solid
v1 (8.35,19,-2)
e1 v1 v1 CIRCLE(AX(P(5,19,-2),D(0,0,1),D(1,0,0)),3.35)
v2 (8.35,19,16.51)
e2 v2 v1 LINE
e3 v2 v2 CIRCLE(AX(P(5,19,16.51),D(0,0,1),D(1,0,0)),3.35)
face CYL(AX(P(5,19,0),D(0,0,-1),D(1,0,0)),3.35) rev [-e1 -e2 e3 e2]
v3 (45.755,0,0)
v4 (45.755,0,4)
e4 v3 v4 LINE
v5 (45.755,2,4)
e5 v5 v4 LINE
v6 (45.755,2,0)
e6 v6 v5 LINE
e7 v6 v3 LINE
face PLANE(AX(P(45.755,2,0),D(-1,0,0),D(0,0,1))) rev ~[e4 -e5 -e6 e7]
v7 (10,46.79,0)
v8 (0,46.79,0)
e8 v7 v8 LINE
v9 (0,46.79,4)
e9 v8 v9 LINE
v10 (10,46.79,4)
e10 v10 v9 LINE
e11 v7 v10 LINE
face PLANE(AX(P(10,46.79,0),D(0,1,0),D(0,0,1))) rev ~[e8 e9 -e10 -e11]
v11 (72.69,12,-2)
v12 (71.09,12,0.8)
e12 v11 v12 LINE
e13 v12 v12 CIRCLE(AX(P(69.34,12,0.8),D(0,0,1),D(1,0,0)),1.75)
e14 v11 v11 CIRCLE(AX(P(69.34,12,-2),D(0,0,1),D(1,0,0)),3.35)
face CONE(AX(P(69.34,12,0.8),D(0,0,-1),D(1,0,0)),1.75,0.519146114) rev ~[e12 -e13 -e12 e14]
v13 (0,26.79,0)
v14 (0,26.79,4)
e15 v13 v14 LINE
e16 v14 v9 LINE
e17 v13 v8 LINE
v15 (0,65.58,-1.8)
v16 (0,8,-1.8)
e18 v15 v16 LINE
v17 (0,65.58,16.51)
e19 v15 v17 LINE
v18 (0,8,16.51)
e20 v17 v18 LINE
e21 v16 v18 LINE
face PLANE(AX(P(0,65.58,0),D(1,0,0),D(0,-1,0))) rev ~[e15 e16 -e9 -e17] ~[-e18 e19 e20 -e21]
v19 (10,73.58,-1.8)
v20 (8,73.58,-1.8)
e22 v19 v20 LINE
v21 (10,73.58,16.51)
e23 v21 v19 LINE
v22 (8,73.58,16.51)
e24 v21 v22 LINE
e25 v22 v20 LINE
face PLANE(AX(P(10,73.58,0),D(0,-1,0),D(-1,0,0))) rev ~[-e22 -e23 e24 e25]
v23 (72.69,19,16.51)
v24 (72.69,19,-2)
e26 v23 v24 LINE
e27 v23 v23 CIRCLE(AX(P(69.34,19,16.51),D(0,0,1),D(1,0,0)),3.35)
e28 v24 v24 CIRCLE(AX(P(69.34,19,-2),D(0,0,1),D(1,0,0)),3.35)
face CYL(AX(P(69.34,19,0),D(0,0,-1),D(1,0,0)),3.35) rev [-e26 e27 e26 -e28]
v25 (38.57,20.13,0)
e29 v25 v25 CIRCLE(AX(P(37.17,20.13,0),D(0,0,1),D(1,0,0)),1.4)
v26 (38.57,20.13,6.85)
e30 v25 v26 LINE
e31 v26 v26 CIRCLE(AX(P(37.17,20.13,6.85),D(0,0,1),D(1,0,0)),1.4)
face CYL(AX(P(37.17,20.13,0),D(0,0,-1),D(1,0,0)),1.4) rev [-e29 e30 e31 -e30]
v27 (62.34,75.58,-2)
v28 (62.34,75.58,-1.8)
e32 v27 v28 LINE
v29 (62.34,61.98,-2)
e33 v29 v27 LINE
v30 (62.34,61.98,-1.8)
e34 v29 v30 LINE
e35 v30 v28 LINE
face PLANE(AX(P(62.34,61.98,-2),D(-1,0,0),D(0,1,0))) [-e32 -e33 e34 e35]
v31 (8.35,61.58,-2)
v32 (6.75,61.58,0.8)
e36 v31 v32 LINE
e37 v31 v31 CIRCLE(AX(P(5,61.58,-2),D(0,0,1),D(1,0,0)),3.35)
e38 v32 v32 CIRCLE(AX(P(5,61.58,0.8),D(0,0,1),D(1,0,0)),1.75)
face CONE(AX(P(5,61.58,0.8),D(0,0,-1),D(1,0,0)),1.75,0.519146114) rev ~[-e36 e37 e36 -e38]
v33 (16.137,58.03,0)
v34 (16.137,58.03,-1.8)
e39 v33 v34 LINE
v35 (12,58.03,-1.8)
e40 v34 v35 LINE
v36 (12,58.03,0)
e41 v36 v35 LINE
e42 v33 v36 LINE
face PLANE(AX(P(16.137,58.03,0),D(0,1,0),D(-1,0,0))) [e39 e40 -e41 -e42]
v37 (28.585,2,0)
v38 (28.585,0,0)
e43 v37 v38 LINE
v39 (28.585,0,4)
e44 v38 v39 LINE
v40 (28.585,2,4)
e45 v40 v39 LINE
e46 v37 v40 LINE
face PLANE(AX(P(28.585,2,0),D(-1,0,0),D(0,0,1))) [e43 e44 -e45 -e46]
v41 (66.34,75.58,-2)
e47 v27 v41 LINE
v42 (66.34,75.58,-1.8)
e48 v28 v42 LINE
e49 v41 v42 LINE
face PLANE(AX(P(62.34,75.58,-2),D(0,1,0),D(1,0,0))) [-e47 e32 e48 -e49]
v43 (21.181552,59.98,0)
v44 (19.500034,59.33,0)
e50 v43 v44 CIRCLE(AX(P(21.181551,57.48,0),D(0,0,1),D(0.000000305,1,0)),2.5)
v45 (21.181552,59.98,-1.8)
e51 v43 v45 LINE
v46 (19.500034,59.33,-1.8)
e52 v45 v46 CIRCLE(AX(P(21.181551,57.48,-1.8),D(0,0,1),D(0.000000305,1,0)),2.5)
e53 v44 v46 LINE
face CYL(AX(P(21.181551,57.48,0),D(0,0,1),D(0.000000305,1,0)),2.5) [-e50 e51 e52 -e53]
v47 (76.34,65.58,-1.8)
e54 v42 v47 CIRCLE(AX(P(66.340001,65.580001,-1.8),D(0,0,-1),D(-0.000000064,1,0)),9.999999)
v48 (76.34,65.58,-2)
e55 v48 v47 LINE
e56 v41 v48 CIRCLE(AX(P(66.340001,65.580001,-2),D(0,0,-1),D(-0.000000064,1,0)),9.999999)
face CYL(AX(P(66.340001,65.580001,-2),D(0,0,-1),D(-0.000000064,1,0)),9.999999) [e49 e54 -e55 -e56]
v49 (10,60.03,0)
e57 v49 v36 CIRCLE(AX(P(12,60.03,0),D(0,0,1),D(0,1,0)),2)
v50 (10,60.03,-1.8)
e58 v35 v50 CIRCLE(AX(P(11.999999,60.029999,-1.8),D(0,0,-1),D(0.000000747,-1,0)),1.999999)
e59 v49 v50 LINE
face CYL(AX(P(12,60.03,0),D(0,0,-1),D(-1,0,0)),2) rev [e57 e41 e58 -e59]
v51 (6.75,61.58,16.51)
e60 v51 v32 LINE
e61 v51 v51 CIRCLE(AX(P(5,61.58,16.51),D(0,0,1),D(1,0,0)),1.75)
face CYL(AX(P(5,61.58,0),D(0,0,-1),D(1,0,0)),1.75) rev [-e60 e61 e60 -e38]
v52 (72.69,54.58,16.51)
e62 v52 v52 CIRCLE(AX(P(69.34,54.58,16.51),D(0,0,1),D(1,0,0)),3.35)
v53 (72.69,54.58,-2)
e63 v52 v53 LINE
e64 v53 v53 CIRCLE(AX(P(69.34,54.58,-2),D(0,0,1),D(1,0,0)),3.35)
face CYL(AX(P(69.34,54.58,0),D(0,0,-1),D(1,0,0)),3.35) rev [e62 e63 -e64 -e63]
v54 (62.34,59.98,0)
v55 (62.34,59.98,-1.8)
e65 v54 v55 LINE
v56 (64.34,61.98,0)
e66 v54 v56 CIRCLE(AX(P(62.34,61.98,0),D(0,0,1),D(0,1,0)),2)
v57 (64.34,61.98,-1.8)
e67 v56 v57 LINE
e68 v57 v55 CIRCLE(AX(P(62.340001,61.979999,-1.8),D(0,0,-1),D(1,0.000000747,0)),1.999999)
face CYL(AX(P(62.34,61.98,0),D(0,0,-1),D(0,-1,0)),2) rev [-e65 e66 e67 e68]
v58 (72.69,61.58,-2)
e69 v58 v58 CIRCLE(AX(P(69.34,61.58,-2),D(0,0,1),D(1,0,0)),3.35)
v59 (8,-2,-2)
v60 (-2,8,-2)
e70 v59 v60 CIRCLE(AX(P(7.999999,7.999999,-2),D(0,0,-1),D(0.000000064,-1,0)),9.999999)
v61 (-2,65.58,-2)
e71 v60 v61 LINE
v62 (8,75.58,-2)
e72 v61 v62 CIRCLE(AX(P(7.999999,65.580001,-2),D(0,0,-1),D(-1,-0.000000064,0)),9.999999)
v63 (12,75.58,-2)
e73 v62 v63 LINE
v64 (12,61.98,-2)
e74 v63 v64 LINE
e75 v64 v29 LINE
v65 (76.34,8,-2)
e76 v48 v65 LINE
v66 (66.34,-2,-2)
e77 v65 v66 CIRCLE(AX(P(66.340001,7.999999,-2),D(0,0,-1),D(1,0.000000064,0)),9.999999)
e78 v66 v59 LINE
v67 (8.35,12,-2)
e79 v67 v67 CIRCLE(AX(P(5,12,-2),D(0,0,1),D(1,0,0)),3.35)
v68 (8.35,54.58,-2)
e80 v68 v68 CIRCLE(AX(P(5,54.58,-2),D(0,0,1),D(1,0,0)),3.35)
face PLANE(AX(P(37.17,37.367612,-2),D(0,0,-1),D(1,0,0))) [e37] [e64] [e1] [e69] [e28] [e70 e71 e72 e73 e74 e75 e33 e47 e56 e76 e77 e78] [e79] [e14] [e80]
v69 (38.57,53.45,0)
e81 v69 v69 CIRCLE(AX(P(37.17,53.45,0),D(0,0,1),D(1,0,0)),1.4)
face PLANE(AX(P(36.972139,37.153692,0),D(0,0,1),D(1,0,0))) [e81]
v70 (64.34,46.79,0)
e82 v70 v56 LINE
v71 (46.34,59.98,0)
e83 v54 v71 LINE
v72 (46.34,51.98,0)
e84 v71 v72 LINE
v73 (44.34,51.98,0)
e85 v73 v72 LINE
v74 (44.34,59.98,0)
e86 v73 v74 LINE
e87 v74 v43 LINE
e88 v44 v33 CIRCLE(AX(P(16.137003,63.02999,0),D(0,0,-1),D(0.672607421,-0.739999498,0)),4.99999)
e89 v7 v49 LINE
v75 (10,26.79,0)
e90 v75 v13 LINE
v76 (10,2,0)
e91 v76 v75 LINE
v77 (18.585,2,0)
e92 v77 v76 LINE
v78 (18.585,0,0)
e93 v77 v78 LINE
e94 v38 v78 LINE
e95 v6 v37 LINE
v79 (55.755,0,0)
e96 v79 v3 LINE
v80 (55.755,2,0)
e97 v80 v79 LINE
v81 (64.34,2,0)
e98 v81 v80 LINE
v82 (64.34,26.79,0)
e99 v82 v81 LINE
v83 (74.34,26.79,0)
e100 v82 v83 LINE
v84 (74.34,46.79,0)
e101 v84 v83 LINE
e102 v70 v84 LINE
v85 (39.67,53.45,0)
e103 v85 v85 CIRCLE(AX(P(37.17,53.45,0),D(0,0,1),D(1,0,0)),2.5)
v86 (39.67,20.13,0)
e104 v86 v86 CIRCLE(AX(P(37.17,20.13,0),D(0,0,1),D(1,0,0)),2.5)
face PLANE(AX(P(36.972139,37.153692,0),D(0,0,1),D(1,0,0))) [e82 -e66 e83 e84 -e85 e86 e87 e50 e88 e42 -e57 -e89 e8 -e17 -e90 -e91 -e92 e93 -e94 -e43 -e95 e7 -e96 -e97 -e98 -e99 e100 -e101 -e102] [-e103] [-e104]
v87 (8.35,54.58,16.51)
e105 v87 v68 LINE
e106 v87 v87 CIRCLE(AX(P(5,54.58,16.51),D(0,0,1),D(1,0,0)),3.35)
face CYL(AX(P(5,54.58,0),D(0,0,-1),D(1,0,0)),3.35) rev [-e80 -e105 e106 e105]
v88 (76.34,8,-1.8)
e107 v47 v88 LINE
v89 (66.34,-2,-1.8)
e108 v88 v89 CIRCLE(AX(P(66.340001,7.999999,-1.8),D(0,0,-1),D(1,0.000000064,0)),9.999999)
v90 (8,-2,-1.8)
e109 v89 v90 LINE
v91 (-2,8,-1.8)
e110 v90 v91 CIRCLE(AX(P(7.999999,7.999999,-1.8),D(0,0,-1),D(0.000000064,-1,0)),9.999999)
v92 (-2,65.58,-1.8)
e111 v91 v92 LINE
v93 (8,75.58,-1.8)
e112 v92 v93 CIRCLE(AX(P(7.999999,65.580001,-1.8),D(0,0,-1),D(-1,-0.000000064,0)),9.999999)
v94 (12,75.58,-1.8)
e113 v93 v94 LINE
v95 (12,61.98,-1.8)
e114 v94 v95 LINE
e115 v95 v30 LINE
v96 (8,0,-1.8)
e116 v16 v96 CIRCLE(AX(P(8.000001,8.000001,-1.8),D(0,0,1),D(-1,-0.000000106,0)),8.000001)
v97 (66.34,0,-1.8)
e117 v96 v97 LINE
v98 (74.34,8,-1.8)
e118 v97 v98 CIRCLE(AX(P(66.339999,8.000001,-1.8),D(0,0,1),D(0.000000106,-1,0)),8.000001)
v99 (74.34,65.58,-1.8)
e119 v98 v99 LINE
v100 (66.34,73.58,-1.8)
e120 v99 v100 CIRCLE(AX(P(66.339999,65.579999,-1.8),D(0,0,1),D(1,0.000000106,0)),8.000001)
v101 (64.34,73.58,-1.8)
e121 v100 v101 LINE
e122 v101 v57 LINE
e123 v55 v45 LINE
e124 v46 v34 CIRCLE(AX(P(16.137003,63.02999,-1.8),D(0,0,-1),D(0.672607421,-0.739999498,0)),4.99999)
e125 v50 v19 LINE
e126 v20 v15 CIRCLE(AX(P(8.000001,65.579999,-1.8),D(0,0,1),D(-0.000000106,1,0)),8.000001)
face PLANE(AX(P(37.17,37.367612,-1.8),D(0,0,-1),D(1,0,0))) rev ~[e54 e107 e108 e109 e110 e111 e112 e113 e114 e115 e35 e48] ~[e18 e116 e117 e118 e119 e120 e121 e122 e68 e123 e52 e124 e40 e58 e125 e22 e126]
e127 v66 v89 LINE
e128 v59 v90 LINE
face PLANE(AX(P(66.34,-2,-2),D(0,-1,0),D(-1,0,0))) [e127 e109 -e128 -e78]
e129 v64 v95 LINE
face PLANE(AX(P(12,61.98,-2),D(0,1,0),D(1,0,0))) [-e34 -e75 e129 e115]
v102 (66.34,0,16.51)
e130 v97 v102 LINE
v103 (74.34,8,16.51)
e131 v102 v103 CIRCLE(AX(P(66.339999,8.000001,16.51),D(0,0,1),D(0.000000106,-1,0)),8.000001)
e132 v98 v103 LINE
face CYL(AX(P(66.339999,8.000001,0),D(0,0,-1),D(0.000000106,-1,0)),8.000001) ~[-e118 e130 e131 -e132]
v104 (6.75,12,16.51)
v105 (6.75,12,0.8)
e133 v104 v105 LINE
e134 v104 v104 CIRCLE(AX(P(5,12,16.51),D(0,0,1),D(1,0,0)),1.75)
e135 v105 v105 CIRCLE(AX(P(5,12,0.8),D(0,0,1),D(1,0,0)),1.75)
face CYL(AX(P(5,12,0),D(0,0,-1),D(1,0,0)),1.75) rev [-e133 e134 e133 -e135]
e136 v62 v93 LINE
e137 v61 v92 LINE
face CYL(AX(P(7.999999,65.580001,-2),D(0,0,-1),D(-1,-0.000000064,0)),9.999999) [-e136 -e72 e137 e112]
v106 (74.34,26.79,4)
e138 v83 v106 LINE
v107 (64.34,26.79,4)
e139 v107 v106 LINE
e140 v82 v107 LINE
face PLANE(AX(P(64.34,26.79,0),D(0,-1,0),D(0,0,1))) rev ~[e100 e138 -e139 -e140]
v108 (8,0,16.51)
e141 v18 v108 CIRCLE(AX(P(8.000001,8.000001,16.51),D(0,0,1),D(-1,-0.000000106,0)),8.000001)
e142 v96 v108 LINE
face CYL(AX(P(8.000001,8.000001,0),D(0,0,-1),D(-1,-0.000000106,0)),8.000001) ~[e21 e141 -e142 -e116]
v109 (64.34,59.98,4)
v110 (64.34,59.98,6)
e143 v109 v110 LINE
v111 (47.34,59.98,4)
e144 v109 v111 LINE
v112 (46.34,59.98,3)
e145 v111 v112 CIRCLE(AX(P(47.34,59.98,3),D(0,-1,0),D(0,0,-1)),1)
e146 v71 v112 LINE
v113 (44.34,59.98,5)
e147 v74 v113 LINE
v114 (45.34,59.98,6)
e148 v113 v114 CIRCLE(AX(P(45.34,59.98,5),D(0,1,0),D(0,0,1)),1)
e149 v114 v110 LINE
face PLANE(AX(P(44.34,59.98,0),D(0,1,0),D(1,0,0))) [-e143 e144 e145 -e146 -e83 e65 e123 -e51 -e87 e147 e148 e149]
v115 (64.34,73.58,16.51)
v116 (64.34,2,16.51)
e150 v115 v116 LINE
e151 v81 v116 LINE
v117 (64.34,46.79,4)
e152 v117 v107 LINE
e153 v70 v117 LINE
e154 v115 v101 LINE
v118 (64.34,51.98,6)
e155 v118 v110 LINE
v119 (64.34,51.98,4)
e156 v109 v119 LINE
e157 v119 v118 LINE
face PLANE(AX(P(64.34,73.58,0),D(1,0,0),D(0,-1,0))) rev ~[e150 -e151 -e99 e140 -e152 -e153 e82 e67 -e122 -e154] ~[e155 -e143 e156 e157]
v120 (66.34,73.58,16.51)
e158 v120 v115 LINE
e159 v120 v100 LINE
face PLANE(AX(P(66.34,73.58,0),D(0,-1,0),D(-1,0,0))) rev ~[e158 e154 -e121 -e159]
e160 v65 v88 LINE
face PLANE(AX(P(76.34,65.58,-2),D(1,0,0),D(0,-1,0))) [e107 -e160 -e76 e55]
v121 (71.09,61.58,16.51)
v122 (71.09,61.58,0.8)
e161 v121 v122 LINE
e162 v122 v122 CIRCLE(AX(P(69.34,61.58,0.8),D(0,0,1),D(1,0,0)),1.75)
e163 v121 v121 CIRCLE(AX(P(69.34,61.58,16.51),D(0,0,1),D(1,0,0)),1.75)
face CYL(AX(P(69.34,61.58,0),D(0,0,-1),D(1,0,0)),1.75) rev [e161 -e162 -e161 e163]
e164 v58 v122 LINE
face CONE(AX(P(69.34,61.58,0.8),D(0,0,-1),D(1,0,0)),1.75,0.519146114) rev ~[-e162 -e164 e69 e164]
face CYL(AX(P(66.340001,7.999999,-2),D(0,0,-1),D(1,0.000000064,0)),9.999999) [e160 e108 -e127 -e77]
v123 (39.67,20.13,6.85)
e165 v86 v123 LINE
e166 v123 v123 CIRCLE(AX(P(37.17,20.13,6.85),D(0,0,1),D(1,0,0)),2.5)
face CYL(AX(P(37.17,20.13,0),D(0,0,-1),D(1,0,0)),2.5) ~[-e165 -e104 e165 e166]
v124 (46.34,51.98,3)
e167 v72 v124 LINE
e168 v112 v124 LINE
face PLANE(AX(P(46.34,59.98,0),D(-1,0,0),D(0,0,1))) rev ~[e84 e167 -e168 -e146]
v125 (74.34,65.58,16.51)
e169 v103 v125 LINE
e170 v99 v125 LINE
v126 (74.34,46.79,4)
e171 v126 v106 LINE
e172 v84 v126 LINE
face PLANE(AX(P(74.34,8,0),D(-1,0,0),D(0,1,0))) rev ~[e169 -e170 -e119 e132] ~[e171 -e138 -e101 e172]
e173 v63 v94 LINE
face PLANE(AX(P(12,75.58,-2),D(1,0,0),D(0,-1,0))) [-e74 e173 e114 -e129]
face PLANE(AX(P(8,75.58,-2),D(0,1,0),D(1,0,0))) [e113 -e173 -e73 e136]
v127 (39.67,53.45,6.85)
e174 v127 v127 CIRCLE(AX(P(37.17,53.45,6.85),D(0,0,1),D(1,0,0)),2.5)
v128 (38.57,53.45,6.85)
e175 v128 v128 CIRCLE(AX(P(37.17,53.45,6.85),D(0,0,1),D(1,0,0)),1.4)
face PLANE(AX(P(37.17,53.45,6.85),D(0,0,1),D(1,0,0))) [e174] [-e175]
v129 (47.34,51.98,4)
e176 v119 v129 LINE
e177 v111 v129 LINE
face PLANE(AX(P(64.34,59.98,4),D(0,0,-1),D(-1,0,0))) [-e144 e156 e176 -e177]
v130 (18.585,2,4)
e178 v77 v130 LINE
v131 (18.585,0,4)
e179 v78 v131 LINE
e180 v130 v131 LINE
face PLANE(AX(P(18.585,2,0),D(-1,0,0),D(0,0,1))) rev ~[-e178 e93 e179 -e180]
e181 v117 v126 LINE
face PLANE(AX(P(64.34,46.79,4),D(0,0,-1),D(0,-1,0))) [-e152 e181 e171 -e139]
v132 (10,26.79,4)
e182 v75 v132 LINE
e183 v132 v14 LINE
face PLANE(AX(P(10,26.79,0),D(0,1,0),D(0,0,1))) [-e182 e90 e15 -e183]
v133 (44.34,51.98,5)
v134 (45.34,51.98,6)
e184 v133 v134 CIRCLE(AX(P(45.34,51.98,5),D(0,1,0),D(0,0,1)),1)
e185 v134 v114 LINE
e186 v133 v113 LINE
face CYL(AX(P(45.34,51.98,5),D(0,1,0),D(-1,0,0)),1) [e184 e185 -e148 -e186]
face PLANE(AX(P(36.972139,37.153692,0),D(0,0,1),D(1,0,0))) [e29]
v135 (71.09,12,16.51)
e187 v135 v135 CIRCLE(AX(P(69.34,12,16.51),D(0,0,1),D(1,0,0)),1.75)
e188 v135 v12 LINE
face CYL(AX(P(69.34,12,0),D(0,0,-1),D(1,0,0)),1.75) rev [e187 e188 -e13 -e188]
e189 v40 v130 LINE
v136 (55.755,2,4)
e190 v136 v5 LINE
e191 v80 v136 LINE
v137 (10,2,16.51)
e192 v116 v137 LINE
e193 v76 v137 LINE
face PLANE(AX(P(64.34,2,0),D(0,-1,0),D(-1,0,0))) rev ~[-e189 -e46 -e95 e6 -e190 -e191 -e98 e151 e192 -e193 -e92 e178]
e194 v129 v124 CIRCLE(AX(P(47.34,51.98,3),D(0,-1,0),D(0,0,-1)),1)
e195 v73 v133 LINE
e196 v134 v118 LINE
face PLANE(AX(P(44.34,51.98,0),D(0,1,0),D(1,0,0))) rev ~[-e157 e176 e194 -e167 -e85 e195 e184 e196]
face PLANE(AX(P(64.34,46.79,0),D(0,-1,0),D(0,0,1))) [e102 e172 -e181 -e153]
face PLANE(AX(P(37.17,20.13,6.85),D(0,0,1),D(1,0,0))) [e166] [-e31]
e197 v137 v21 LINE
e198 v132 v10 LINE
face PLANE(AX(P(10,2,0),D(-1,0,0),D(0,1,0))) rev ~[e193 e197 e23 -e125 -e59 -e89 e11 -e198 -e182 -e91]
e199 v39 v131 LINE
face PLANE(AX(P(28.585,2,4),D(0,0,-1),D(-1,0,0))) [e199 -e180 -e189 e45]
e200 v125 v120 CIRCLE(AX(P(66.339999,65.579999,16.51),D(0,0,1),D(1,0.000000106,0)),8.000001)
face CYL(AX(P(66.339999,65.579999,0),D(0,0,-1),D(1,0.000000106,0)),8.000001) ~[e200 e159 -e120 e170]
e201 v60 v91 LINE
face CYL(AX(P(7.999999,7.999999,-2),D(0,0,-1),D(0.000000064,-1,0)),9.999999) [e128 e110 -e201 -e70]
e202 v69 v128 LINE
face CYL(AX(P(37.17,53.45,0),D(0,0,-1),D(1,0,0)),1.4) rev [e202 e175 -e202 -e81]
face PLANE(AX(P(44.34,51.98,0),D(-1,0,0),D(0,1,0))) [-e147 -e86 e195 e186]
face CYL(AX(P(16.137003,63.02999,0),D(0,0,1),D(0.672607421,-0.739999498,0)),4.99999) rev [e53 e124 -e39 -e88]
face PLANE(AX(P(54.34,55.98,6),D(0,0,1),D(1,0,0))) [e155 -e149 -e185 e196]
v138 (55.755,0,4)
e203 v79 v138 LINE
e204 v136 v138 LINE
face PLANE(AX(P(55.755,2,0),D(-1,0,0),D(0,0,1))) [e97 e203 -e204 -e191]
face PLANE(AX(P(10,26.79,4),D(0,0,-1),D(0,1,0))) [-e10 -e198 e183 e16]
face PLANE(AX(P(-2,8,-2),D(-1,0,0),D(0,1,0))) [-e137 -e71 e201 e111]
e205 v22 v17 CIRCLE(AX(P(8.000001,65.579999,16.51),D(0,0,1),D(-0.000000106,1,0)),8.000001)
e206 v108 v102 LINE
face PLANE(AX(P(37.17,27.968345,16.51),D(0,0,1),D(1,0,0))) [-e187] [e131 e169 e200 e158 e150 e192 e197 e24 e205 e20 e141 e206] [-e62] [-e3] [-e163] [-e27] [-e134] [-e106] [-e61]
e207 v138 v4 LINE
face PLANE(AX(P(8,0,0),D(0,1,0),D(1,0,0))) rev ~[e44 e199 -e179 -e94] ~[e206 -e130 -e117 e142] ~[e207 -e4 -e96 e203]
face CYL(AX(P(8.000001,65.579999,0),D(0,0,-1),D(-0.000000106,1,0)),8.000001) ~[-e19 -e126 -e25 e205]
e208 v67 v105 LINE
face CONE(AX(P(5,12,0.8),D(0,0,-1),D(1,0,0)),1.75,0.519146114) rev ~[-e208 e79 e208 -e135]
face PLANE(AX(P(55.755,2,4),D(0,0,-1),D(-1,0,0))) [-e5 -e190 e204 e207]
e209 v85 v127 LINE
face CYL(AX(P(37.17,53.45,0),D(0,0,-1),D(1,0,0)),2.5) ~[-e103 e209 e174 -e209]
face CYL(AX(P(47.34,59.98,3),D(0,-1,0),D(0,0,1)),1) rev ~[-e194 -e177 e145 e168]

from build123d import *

# Parameters (mm, degrees)
F1_R      = 1.75
F1_R_2    = 3.35
F2_DEPTH  = 2
F3_R      = 2
F4_R      = 1.75
F4_R_2    = 3.35
F5_DEPTH  = 16.51
F6_SIZE2  = 2.8
F6_SIZE   = 1.6
F7_R      = 2.5
F7_R_2    = 1.4
F8_DEPTH  = 6.85
F9_W      = 20
F9_H      = 4
F10_DEPTH = 10.001
F11_W     = 20
F11_H     = 4
F12_DEPTH = 10.001
F13_W     = 10
F13_H     = 4
F14_DEPTH = 2.001
F15_W     = 20
F15_H     = 8
F16_DEPTH = 6
F17_W     = 18
F17_H     = 4
F18_DEPTH = 8
F19_R     = 1
F21_DEPTH = 0.2


with BuildPart() as f2:
    # F1 (on Top) → F2 (new body)
    with BuildSketch(Plane.XY):
        with BuildLine():
            ThreePointArc((8, 73.58), (2.343146, 71.236854), (0, 65.58))
            Line((0, 65.58), (0, 8))
            ThreePointArc((0, 8), (2.343146, 2.343146), (8, 0))
            Line((8, 0), (66.34, 0))
            ThreePointArc((66.34, 0), (71.996854, 2.343146), (74.34, 8))
            Line((74.34, 8), (74.34, 65.58))
            ThreePointArc((74.34, 65.58), (71.996854, 71.236854), (66.34, 73.58))
            Line((66.34, 73.58), (64.34, 73.58))
            Line((64.34, 73.58), (64.34, 59.98))
            Line((64.34, 59.98), (21.181552, 59.98))
            ThreePointArc((21.181552, 59.98), (20.280164, 59.811845), (19.500034, 59.33))
            ThreePointArc((19.500034, 59.33), (17.939776, 58.36631), (16.137, 58.03))
            Line((16.137, 58.03), (10, 58.03))
            Line((10, 58.03), (10, 73.58))
            Line((10, 73.58), (8, 73.58))
        make_face()
        with Locations((5, 12)):
            Circle(F1_R, mode=Mode.SUBTRACT)
        with Locations((5, 19)):
            Circle(F1_R_2, mode=Mode.SUBTRACT)
        with Locations((69.34, 12)):
            Circle(F1_R, mode=Mode.SUBTRACT)
        with Locations((69.34, 19)):
            Circle(F1_R_2, mode=Mode.SUBTRACT)
        with Locations((5, 54.58)):
            Circle(F1_R_2, mode=Mode.SUBTRACT)
        with Locations((5, 61.58)):
            Circle(F1_R, mode=Mode.SUBTRACT)
        with Locations((69.34, 54.58)):
            Circle(F1_R_2, mode=Mode.SUBTRACT)
        with Locations((69.34, 61.58)):
            Circle(F1_R, mode=Mode.SUBTRACT)
    extrude(amount=-F2_DEPTH)

    # F3
    f3_edges = [f2.edges().sort_by_distance(p)[0] for p in [
        (10, 58.03, -1),
        (64.34, 59.98, -1),
    ]]
    fillet(f3_edges, radius=F3_R)

    # F4 (on face) → F5 (join)
    with BuildSketch(Plane.XY):
        with BuildLine():
            ThreePointArc((8, 73.58), (2.343146, 71.236854), (0, 65.58))
            Line((0, 65.58), (0, 8))
            ThreePointArc((0, 8), (2.343146, 2.343146), (8, 0))
            Line((8, 0), (66.34, 0))
            ThreePointArc((66.34, 0), (71.996854, 2.343146), (74.34, 8))
            Line((74.34, 8), (74.34, 65.58))
            ThreePointArc((74.34, 65.58), (71.996854, 71.236854), (66.34, 73.58))
            Line((66.34, 73.58), (64.34, 73.58))
            Line((64.34, 73.58), (64.34, 2))
            Line((64.34, 2), (10, 2))
            Line((10, 2), (10, 73.58))
            Line((10, 73.58), (8, 73.58))
        make_face()
        with Locations((5, 12)):
            Circle(F4_R, mode=Mode.SUBTRACT)
        with Locations((5, 19)):
            Circle(F4_R_2, mode=Mode.SUBTRACT)
        with Locations((69.34, 12)):
            Circle(F4_R, mode=Mode.SUBTRACT)
        with Locations((69.34, 19)):
            Circle(F4_R_2, mode=Mode.SUBTRACT)
        with Locations((5, 54.58)):
            Circle(F4_R_2, mode=Mode.SUBTRACT)
        with Locations((5, 61.58)):
            Circle(F4_R, mode=Mode.SUBTRACT)
        with Locations((69.34, 54.58)):
            Circle(F4_R_2, mode=Mode.SUBTRACT)
        with Locations((69.34, 61.58)):
            Circle(F4_R, mode=Mode.SUBTRACT)
    extrude(amount=F5_DEPTH)

    # F6
    f6_edges = [f2.edges().sort_by_distance(p)[0] for p in [
        (3.25, 61.58, -2),
        (3.25, 12, -2),
        (67.59, 12, -2),
        (67.59, 61.58, -2),
    ]]
    chamfer(f6_edges, length=F6_SIZE, length2=F6_SIZE2)

    # F7 (on face) → F8 (join)
    with BuildSketch(Plane.XY):
        with Locations((37.17, 53.45)):
            Circle(F7_R)
        with Locations((37.17, 53.45)):
            Circle(F7_R_2, mode=Mode.SUBTRACT)
        with Locations((37.17, 20.13)):
            Circle(F7_R)
        with Locations((37.17, 20.13)):
            Circle(F7_R_2, mode=Mode.SUBTRACT)
    extrude(amount=F8_DEPTH)

    # F9 (on face) → F10 (cut, through all)
    with BuildSketch(Plane.YZ.offset(10)):
        with Locations((36.79, 2)):
            Rectangle(F9_W, F9_H)
    extrude(amount=-F10_DEPTH, mode=Mode.SUBTRACT)

    # F11 (on face) → F12 (cut, through all)
    with BuildSketch(Plane(origin=(64.34, 0, 0), x_dir=(0, -1, 0), z_dir=(-1, 0, 0))):
        with Locations((-36.79, 2)):
            Rectangle(F11_W, F11_H)
    extrude(amount=-F12_DEPTH, mode=Mode.SUBTRACT)

    # F13 (on face) → F14 (cut, through all)
    with BuildSketch(Plane(origin=(0, 2, 0), x_dir=(-1, 0, 0), z_dir=(0, 1, 0))):
        with Locations((-50.755, 2)):
            Rectangle(F13_W, F13_H)
        with Locations((-23.585, 2)):
            Rectangle(F13_W, F13_H)
    extrude(amount=-F14_DEPTH, mode=Mode.SUBTRACT)

    # F15 (on face) → F16 (join)
    with BuildSketch(Plane.XY):
        with Locations((54.34, 55.98)):
            Rectangle(F15_W, F15_H)
    extrude(amount=F16_DEPTH)

    # F17 (on face) → F18 (cut, through all)
    with BuildSketch(Plane(origin=(0, 59.98, 0), x_dir=(-1, 0, 0), z_dir=(0, 1, 0))):
        with Locations((-55.34, 2)):
            Rectangle(F17_W, F17_H)
    extrude(amount=-F18_DEPTH, mode=Mode.SUBTRACT)

    # F19
    f19_edges = [f2.edges().sort_by_distance(p)[0] for p in [
        (46.34, 55.98, 4),
        (44.34, 55.98, 6),
    ]]
    fillet(f19_edges, radius=F19_R)

    # F20 (on face) → F21 (join)
    with BuildSketch(Plane(origin=(0, 0, -2), x_dir=(1, 0, 0), z_dir=(0, 0, -1))):
        with BuildLine():
            ThreePointArc((8, 2), (0.928932, -0.928932), (-2, -8))
            Line((-2, -8), (-2, -65.58))
            ThreePointArc((-2, -65.58), (0.928932, -72.651068), (8, -75.58))
            Line((8, -75.58), (12, -75.58))
            Line((12, -75.58), (12, -61.98))
            Line((12, -61.98), (62.34, -61.98))
            Line((62.34, -61.98), (62.34, -75.58))
            Line((62.34, -75.58), (66.34, -75.58))
            ThreePointArc((66.34, -75.58), (73.411068, -72.651068), (76.34, -65.58))
            Line((76.34, -65.58), (76.34, -8))
            ThreePointArc((76.34, -8), (73.411068, -0.928932), (66.34, 2))
            Line((66.34, 2), (8, 2))
        make_face()
        with BuildLine():
            Line((0, -65.58), (0, -8))
            ThreePointArc((0, -8), (2.343146, -2.343146), (8, 0))
            Line((8, 0), (66.34, 0))
            ThreePointArc((66.34, 0), (71.996854, -2.343146), (74.34, -8))
            Line((74.34, -8), (74.34, -65.58))
            ThreePointArc((74.34, -65.58), (71.996854, -71.236854), (66.34, -73.58))
            Line((66.34, -73.58), (64.34, -73.58))
            Line((64.34, -73.58), (64.34, -61.98))
            ThreePointArc((64.34, -61.98), (63.754214, -60.565786), (62.34, -59.98))
            Line((62.34, -59.98), (21.181552, -59.98))
            ThreePointArc((21.181552, -59.98), (20.280164, -59.811845), (19.500034, -59.33))
            ThreePointArc((19.500034, -59.33), (17.939776, -58.36631), (16.137, -58.03))
            Line((16.137, -58.03), (12, -58.03))
            ThreePointArc((12, -58.03), (10.585786, -58.615786), (10, -60.03))
            Line((10, -60.03), (10, -73.58))
            Line((10, -73.58), (8, -73.58))
            ThreePointArc((8, -73.58), (2.343146, -71.236854), (0, -65.58))
        make_face(mode=Mode.SUBTRACT)
    extrude(amount=-F21_DEPTH)


solid = f2.part
